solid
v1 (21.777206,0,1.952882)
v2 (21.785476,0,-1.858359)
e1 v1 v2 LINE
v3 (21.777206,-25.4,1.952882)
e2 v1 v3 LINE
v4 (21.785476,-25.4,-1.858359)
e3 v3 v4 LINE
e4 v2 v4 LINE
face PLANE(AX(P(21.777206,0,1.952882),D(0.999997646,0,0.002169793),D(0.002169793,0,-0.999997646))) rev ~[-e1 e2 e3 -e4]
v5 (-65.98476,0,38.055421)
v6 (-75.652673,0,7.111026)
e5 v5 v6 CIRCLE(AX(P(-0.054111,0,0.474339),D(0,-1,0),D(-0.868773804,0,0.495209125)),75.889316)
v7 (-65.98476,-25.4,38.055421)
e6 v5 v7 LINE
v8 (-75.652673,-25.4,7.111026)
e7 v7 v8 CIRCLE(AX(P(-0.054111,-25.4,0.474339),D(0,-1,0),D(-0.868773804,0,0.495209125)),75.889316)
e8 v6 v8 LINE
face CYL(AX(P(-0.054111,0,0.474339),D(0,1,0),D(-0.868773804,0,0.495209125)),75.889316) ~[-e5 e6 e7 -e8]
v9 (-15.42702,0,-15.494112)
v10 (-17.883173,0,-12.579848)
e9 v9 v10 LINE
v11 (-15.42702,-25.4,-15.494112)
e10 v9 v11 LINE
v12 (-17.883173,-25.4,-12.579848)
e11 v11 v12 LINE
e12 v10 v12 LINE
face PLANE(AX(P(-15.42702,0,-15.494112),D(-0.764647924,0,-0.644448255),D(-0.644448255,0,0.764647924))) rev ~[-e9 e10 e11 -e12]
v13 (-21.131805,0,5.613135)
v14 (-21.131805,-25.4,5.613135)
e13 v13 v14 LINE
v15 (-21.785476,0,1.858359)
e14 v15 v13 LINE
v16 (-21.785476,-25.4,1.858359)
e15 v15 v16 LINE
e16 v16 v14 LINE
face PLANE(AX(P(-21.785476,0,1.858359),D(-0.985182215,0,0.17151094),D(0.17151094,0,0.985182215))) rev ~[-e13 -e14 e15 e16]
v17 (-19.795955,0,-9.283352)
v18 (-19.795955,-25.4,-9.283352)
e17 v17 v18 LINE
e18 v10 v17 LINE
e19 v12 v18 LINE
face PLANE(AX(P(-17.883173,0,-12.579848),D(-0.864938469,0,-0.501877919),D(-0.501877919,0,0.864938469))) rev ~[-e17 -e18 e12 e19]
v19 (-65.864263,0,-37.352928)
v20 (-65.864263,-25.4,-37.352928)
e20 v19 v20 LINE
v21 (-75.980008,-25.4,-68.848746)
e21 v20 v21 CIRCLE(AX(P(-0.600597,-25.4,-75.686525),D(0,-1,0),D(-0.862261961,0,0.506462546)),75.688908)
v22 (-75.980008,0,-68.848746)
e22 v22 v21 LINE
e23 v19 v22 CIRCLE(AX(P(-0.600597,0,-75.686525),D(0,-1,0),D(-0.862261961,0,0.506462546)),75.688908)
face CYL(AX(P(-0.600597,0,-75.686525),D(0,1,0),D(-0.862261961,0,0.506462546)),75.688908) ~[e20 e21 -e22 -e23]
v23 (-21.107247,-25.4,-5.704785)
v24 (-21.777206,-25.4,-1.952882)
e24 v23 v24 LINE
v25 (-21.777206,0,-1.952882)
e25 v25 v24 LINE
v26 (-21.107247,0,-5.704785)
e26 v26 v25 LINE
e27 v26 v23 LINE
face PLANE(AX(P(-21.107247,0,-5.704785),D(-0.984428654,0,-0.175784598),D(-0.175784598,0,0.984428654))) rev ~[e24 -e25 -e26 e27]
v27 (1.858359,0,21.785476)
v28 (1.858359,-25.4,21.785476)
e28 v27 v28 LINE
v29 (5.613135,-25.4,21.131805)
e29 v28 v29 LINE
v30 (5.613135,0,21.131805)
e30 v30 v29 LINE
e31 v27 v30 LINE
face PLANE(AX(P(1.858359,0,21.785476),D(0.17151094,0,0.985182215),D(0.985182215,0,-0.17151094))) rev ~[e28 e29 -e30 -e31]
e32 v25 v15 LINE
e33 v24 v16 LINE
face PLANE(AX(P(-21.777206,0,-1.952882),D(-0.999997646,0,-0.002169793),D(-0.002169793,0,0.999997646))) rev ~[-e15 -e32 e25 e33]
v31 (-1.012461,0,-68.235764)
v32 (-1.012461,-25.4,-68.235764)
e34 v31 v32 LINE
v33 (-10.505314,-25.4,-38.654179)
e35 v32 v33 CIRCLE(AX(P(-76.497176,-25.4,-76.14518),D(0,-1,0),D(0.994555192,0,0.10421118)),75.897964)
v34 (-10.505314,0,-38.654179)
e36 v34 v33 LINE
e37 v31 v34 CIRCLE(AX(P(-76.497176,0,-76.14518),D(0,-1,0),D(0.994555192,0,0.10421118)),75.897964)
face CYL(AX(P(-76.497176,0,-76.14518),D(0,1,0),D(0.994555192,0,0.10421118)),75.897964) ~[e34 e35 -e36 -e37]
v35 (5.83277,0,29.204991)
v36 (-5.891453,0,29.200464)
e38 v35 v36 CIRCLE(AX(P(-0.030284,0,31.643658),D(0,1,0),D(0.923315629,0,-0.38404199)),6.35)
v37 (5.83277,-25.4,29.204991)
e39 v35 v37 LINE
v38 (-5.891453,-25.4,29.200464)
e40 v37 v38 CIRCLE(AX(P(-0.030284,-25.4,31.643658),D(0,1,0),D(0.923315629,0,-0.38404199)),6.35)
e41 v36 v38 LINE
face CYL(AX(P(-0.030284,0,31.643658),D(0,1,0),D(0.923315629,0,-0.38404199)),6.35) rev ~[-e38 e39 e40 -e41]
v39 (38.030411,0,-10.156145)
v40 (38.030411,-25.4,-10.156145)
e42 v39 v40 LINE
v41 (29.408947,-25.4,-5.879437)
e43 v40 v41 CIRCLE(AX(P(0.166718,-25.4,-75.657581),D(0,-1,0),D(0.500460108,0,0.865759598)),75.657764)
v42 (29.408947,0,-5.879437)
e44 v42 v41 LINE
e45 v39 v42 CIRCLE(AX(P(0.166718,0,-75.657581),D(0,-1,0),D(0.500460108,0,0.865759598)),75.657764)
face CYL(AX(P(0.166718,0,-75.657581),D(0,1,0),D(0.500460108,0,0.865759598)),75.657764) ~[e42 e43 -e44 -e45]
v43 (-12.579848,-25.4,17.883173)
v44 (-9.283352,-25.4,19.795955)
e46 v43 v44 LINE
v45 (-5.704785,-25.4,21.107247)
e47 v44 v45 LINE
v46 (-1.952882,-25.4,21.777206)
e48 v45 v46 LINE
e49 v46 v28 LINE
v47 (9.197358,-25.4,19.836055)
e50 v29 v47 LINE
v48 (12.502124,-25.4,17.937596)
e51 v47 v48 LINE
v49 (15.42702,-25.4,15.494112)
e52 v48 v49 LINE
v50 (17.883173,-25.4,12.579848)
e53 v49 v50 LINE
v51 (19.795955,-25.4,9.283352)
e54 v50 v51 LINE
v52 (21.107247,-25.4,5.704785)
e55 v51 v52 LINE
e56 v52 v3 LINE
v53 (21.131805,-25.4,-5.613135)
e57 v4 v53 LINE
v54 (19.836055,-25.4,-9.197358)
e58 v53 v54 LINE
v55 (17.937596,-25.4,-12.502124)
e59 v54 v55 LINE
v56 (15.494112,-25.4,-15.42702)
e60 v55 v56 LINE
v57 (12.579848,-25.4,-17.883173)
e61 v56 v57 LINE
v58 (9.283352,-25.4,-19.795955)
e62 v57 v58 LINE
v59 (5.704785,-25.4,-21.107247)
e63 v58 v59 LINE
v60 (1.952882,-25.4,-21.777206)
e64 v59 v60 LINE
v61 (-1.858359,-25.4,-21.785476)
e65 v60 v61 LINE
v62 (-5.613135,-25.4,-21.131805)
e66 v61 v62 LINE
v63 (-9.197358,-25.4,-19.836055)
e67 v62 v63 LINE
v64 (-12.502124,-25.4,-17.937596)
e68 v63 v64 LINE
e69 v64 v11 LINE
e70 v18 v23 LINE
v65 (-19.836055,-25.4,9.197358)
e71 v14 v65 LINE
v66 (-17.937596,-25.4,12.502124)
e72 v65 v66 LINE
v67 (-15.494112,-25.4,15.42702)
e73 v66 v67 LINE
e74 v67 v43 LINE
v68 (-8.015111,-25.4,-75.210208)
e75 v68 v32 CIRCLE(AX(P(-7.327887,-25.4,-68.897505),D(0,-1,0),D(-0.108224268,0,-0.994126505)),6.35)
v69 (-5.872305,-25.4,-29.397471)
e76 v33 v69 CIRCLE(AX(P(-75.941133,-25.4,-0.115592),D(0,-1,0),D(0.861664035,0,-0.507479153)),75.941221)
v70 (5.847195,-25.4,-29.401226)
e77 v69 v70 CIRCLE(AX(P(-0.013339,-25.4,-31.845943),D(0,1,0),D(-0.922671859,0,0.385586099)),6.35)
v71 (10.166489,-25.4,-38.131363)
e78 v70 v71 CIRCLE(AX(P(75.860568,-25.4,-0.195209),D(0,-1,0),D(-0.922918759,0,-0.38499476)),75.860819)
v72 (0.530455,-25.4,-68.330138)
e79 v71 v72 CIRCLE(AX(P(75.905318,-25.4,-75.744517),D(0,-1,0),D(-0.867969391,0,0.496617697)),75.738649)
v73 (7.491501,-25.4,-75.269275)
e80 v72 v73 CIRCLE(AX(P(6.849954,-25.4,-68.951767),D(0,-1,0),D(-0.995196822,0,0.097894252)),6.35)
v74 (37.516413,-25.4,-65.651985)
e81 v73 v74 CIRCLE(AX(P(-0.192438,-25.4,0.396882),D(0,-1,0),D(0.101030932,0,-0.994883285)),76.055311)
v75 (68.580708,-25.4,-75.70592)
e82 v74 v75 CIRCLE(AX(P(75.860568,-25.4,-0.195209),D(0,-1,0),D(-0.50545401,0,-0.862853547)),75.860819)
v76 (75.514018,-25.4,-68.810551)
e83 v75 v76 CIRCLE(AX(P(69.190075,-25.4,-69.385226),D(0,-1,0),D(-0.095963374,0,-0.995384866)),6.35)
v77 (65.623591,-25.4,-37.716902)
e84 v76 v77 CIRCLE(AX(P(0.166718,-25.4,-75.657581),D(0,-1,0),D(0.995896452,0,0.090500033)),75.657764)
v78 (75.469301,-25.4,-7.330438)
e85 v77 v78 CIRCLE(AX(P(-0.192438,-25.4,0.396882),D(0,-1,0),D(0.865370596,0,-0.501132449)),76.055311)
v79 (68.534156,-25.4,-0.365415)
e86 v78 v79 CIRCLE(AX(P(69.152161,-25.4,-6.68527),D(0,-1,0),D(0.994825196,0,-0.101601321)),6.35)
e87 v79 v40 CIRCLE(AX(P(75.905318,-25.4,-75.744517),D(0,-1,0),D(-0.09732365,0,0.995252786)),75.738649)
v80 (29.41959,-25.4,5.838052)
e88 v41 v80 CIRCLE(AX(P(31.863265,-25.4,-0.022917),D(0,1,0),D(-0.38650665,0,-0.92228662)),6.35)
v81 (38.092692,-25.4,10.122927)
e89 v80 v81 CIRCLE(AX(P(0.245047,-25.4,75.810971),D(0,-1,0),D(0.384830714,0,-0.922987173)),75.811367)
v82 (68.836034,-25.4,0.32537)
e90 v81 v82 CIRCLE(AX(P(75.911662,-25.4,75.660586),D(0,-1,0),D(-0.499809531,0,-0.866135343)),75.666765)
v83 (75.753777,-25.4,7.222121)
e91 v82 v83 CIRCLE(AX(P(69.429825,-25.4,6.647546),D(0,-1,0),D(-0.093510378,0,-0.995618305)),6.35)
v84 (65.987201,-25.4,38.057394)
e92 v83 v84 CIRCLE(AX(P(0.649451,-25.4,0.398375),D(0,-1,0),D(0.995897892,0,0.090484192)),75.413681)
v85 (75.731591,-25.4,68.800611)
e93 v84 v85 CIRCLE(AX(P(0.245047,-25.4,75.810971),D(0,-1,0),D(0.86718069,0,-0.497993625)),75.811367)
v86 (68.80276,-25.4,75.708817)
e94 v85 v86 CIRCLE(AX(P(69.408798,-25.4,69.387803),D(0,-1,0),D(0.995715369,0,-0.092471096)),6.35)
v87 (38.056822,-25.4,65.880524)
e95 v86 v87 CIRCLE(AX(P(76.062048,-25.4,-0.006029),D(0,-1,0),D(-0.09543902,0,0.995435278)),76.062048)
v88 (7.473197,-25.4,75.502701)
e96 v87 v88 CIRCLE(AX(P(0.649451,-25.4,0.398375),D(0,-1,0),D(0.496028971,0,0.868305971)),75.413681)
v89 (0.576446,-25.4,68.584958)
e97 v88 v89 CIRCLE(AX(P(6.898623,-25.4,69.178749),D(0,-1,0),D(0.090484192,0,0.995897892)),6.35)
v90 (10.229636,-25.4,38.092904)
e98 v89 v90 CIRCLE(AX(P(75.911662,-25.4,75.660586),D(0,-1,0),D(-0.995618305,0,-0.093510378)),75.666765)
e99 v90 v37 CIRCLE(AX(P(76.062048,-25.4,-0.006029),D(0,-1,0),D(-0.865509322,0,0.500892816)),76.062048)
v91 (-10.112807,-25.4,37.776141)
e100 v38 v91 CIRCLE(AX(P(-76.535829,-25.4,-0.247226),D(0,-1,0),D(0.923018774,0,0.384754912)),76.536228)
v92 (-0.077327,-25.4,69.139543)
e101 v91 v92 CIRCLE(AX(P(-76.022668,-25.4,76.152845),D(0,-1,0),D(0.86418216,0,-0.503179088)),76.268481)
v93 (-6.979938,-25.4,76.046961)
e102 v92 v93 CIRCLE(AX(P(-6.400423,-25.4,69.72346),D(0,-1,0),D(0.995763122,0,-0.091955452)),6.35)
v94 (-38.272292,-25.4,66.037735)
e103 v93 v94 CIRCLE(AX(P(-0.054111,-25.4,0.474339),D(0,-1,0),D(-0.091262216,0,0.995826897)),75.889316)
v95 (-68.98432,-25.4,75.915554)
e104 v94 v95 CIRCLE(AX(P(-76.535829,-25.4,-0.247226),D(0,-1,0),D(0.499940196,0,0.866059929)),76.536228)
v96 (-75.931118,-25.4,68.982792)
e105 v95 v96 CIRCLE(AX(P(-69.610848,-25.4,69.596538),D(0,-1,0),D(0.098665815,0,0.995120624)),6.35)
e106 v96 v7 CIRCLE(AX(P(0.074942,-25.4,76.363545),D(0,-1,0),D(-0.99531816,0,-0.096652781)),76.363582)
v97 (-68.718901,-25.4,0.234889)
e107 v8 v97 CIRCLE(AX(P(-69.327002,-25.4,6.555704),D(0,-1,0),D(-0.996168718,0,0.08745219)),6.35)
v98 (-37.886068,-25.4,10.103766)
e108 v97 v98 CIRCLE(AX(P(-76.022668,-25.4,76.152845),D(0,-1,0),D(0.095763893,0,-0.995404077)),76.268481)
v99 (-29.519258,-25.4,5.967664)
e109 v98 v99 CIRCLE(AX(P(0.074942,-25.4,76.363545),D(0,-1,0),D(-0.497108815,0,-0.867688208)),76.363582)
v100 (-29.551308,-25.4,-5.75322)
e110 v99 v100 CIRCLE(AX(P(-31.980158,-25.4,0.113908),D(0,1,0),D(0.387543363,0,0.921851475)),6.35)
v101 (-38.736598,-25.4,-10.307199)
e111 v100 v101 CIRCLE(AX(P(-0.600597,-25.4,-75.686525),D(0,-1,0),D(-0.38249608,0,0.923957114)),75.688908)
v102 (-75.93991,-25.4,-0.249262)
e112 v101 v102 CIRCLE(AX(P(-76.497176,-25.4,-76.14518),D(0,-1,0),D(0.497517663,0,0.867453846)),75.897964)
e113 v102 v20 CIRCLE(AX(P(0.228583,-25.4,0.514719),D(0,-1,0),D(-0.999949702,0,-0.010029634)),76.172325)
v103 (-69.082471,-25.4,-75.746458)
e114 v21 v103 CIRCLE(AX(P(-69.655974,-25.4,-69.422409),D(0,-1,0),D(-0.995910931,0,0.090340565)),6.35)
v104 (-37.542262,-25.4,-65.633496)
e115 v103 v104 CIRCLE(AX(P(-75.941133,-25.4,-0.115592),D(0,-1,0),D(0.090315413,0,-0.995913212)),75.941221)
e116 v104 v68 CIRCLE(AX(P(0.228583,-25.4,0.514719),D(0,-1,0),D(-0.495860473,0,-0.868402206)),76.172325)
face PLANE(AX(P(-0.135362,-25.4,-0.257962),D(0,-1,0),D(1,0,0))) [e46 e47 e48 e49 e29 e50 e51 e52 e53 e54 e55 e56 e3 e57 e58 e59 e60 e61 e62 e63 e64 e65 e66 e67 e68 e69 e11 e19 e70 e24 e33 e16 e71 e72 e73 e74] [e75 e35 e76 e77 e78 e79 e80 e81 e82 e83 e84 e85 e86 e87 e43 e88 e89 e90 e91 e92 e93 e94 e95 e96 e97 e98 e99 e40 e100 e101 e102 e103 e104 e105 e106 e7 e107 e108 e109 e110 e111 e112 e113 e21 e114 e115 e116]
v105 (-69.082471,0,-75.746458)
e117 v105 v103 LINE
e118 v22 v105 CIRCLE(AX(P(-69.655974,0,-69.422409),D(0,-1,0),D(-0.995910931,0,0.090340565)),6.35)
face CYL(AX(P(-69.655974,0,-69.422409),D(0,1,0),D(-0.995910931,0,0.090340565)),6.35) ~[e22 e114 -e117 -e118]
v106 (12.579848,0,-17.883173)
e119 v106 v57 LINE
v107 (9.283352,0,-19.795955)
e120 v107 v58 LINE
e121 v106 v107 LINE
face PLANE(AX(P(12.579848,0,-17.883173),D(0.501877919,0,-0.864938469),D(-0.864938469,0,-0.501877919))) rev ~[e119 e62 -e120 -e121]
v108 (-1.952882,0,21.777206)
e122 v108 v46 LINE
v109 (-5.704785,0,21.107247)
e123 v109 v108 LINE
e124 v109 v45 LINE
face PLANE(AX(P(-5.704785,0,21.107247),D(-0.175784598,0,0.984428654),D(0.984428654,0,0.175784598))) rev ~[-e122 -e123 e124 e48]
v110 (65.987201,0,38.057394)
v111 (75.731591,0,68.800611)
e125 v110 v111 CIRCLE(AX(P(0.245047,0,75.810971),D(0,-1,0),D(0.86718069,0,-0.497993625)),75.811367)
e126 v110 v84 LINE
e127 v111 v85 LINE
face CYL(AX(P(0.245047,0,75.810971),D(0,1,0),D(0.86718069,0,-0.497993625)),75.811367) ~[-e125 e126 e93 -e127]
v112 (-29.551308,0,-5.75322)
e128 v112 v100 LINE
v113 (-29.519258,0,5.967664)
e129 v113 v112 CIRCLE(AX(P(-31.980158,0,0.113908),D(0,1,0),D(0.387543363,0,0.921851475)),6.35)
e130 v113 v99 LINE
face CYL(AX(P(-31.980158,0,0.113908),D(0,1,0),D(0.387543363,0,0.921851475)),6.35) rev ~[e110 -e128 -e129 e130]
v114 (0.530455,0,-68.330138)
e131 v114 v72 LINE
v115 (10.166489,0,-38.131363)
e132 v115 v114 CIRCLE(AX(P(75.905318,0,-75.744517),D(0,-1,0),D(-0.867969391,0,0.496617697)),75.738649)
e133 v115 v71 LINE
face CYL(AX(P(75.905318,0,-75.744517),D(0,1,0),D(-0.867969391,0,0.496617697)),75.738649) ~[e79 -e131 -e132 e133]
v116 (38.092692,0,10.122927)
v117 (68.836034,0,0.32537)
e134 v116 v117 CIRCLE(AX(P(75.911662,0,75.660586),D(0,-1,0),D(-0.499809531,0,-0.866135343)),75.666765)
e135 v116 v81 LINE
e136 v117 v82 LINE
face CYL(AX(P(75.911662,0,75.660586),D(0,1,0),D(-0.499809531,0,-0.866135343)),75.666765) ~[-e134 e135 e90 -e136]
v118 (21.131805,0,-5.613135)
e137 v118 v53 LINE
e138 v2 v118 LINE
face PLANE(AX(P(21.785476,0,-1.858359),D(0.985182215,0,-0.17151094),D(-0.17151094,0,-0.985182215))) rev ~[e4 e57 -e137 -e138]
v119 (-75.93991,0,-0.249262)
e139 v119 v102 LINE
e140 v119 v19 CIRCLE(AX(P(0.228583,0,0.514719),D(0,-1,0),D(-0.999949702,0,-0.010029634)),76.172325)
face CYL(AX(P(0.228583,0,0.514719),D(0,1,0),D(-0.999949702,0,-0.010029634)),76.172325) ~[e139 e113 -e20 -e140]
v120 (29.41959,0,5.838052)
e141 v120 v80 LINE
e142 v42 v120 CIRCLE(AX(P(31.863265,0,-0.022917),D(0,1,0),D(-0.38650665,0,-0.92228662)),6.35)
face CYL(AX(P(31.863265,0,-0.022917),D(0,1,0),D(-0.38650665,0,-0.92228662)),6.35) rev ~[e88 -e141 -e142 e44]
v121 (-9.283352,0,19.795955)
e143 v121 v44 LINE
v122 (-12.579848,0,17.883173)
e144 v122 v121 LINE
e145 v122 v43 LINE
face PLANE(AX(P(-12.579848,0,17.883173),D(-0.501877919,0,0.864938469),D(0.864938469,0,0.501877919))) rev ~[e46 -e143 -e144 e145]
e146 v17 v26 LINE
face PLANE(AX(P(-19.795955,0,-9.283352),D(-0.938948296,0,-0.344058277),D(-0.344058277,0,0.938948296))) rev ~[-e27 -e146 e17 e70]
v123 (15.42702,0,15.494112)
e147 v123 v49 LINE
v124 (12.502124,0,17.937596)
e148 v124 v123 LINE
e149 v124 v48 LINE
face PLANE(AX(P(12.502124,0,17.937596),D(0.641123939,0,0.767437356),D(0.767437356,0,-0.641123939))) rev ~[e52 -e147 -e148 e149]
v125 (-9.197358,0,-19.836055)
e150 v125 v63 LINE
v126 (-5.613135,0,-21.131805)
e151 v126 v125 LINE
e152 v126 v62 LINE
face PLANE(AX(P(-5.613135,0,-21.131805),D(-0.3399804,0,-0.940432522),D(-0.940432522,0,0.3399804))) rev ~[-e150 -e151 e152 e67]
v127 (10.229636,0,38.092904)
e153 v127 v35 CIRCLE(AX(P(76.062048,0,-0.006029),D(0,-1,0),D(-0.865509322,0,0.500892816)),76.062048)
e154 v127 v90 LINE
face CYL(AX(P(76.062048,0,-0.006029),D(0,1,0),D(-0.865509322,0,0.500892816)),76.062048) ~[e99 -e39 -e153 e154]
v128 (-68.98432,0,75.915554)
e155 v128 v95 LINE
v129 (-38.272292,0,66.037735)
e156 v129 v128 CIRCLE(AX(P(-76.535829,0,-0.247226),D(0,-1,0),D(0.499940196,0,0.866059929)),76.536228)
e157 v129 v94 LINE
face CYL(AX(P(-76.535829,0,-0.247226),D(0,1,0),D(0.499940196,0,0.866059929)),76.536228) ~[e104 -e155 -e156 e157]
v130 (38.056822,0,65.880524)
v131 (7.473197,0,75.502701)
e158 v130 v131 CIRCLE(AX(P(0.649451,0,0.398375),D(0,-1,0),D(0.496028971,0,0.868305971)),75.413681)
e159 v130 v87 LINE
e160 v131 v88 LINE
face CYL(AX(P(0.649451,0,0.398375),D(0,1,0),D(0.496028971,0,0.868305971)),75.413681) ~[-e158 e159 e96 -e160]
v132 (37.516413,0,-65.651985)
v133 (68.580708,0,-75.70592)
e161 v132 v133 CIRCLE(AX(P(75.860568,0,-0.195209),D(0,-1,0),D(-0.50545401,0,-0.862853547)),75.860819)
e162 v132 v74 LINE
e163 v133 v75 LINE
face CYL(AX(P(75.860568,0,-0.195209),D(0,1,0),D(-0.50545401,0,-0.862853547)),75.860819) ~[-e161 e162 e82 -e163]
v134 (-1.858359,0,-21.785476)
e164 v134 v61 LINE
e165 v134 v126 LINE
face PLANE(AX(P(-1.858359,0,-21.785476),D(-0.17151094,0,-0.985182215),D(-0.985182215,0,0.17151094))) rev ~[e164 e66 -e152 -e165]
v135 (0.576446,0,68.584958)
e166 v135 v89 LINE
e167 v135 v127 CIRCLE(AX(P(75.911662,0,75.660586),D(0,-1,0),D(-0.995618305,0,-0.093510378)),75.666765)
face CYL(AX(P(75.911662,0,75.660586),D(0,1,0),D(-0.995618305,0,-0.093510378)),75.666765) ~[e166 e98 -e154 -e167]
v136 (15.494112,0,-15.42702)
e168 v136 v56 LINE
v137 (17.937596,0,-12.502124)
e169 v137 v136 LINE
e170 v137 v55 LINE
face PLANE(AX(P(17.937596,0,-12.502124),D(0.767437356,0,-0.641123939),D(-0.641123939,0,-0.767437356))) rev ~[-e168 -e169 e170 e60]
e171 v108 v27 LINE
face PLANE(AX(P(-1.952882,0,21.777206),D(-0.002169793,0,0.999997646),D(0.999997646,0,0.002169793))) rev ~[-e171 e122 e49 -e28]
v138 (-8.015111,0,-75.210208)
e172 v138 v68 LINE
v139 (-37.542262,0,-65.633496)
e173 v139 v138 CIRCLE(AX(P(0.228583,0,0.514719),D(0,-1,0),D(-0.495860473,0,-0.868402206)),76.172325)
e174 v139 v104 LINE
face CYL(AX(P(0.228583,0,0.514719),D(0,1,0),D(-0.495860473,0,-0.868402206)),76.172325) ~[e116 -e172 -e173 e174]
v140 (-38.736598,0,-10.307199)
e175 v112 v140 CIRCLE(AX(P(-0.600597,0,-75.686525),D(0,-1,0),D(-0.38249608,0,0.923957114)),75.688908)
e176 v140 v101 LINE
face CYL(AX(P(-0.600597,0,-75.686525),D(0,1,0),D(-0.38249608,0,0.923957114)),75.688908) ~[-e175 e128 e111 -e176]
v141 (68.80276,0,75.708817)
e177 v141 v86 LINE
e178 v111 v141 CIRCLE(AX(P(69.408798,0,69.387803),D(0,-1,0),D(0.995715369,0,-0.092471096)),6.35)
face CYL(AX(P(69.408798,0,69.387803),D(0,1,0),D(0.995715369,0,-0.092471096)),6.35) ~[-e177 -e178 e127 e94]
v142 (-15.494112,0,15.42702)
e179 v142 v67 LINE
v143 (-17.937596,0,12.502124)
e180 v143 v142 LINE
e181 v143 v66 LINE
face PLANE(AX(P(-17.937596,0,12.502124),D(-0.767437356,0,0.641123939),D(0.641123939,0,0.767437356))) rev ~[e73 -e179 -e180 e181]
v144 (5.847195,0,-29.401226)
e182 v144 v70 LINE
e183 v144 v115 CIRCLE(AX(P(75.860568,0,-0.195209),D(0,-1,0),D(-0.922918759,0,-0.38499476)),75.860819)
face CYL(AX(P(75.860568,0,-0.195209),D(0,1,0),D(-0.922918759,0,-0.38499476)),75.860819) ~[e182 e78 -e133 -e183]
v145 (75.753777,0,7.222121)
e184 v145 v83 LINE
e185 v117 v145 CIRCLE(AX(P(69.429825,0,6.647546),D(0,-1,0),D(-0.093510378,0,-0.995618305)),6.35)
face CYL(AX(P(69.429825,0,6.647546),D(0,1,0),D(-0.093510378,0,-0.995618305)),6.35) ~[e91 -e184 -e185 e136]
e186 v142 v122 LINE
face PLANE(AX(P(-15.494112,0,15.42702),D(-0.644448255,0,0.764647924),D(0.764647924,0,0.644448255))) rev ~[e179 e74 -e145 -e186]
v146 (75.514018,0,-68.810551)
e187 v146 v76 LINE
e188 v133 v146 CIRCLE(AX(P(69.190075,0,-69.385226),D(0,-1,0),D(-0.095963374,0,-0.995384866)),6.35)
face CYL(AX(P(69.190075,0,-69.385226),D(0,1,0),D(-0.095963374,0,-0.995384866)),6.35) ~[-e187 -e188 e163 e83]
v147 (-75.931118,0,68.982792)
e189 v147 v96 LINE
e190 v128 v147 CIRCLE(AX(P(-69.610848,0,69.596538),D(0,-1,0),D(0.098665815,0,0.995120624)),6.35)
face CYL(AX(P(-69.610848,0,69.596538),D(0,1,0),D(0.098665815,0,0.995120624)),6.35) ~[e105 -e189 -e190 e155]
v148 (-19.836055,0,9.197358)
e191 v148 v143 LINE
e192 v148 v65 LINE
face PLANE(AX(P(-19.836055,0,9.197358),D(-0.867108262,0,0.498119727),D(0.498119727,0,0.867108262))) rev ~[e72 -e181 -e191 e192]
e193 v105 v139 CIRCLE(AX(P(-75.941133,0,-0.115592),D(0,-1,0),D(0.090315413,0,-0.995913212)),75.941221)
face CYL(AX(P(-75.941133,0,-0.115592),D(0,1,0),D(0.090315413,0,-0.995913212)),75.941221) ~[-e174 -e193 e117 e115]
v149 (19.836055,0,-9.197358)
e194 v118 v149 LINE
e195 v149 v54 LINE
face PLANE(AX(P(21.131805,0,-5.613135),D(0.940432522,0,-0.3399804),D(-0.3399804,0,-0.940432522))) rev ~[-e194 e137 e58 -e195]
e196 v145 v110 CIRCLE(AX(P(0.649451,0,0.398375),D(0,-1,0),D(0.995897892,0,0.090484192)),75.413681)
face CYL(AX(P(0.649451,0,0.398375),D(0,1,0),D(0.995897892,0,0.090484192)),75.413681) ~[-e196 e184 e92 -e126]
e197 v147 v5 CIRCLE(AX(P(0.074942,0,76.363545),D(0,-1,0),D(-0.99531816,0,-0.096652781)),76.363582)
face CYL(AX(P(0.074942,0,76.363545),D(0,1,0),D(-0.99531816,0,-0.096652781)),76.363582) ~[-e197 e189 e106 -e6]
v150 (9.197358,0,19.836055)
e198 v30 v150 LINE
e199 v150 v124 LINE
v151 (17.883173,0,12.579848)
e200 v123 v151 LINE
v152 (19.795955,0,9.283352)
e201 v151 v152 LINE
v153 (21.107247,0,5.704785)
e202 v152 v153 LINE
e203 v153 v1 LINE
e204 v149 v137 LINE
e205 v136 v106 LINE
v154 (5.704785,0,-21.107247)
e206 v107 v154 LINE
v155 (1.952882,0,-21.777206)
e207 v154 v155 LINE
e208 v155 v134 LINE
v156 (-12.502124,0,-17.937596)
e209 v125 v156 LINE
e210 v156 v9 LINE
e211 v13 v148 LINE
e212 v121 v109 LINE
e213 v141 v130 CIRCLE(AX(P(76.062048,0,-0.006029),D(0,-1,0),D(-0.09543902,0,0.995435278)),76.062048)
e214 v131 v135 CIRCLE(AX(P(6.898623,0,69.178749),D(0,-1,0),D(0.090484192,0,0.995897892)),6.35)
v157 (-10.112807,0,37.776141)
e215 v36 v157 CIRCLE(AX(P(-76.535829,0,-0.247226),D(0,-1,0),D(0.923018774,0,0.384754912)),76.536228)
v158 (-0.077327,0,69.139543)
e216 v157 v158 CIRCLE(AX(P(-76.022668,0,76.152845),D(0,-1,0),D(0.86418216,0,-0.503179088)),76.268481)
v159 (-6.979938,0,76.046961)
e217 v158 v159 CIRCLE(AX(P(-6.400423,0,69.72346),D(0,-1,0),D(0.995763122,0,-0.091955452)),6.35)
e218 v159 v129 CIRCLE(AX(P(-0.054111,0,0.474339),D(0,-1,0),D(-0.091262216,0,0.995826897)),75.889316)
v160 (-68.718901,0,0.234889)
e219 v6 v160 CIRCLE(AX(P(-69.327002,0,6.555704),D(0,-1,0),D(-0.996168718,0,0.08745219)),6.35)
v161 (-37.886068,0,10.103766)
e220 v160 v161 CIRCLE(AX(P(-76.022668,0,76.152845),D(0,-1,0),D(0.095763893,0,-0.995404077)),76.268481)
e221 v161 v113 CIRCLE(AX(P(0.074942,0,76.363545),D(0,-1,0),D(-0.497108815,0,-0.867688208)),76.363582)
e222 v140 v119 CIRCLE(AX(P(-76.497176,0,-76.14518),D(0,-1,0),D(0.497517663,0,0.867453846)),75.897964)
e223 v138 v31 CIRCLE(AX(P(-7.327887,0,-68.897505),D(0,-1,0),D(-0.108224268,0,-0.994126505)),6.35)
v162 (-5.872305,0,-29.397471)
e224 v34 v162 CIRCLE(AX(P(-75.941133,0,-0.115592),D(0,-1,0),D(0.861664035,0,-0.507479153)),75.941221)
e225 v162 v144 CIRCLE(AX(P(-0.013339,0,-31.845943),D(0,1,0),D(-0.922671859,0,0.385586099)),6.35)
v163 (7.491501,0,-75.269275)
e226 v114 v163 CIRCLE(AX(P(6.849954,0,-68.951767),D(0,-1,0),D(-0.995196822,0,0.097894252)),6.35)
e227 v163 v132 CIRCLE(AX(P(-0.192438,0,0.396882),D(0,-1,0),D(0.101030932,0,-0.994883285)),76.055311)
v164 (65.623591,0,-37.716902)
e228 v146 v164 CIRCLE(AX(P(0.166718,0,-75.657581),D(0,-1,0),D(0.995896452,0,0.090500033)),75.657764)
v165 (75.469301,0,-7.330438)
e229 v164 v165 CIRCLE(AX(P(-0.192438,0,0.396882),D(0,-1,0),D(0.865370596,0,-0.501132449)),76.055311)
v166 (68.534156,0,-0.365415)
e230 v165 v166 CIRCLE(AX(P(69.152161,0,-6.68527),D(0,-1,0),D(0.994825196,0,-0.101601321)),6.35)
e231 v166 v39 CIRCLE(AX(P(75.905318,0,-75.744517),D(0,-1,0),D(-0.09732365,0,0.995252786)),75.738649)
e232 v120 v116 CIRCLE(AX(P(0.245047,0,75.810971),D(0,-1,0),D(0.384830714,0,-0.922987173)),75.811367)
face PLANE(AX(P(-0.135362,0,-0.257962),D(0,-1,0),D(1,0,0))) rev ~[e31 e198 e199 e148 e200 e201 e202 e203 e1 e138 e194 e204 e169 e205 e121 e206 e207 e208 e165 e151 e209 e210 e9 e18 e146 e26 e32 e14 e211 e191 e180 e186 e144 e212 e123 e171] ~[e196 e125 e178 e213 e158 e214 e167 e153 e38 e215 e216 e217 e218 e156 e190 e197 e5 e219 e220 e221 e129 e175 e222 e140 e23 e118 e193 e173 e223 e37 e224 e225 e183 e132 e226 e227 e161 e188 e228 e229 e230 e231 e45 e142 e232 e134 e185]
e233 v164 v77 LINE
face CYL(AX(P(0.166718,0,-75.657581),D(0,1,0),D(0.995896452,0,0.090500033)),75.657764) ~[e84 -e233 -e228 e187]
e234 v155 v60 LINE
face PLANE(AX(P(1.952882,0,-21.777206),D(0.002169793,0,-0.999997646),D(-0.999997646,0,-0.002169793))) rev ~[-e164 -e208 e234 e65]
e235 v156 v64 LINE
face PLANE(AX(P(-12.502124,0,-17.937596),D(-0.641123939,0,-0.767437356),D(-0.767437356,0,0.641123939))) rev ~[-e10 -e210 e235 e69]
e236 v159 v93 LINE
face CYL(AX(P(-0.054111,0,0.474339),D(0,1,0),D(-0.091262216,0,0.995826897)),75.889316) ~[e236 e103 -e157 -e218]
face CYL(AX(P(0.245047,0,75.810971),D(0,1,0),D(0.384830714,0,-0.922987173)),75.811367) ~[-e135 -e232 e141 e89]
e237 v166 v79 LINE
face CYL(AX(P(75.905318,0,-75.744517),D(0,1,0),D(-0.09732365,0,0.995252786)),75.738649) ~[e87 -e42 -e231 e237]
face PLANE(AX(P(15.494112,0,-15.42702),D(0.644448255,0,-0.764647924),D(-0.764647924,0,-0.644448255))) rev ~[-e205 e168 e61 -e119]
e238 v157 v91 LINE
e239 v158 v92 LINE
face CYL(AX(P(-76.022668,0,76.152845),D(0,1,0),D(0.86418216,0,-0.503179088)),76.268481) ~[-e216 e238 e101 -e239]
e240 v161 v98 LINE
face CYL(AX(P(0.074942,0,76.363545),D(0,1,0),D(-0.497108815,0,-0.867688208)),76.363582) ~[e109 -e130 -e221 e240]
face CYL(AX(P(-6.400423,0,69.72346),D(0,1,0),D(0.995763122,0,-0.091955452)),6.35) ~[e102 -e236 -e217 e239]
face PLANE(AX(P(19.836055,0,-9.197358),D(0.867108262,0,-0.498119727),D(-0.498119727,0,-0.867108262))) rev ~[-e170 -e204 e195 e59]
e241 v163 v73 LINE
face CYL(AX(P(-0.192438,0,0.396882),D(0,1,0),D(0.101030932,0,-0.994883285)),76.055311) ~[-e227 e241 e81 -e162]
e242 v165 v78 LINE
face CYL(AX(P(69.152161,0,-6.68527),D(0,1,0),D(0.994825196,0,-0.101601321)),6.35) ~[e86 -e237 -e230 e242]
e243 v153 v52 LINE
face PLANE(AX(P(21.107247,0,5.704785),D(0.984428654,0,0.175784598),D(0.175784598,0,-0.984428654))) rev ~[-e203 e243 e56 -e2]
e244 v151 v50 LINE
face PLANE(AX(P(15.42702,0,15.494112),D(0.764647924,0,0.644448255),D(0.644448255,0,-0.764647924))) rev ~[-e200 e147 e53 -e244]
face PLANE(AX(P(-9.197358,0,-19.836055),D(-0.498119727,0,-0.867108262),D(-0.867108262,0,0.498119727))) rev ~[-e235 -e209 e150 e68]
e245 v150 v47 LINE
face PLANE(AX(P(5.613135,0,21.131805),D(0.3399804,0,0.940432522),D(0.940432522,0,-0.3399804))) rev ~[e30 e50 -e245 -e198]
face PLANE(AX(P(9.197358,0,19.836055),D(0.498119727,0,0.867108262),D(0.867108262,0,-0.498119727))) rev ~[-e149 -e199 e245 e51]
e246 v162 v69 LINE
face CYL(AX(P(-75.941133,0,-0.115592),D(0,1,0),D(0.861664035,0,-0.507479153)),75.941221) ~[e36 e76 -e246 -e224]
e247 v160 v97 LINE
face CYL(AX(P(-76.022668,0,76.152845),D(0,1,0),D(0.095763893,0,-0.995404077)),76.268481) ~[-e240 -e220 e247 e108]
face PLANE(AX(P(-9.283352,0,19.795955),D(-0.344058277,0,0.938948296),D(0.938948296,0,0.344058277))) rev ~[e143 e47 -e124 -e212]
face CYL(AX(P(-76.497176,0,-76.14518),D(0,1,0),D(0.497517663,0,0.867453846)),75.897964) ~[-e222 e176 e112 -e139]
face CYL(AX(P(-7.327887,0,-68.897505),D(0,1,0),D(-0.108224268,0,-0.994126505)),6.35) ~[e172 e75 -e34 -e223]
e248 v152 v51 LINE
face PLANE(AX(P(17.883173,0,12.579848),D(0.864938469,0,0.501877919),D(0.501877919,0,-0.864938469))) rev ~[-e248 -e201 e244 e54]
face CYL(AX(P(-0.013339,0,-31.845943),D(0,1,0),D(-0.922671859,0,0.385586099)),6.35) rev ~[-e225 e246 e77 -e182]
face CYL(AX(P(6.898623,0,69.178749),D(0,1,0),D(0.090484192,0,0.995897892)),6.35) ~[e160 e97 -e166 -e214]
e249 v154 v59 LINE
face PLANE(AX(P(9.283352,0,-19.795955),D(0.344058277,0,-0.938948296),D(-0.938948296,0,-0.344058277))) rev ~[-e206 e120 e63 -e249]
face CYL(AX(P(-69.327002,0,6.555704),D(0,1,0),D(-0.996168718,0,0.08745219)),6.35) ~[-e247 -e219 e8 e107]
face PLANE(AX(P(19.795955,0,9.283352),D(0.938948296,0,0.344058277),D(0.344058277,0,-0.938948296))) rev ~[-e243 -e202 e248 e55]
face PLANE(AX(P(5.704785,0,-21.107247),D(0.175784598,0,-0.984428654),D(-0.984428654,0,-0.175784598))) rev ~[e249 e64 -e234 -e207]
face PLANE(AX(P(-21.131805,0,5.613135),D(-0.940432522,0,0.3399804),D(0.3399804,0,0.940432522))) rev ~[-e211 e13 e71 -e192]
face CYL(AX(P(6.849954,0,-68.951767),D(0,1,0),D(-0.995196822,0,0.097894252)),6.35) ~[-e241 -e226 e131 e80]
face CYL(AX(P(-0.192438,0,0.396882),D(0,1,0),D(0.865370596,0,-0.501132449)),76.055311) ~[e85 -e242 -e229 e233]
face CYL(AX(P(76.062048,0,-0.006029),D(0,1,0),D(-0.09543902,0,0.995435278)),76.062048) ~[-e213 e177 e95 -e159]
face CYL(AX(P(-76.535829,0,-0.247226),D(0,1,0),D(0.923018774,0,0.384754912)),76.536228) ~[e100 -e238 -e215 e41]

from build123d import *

# Parameters (mm, degrees)
F1_DEPTH = 25.4


with BuildPart() as f1:
    # F0 (on Front) → F1 (new body)
    with BuildSketch(Plane.XZ):
        with BuildLine():
            ThreePointArc((-5.8723054883, -29.3974713107), (-0.0113045982, -25.4959433684), (5.8471949357, -29.4012263195))
            ThreePointArc((5.8471949357, -29.4012263195), (7.8665830511, -33.8356885101), (10.1664885318, -38.131362853))
            ThreePointArc((10.1664885318, -38.131362853), (22.2433688947, -22.2960530681), (38.0304113332, -10.1561450647))
            ThreePointArc((38.0304113332, -10.1561450647), (33.7877497726, -7.8805671775), (29.4089474828, -5.8794369107))
            ThreePointArc((29.4089474828, -5.8794369107), (25.5132673299, -0.0171496036), (29.4195896796, 5.8380516761))
            ThreePointArc((29.4195896796, 5.8380516761), (33.8245563846, 7.8420080033), (38.0926920423, 10.1229268184))
            ThreePointArc((38.0926920423, 10.1229268184), (22.3048159694, 22.2586636554), (10.2296361263, 38.0929041244))
            ThreePointArc((10.2296361263, 38.0929041244), (7.8862120567, 33.7206748888), (5.832770092, 29.2049910031))
            ThreePointArc((5.832770092, 29.2049910031), (-0.0278322356, 25.2936581115), (-5.8914533675, 29.2004639491))
            ThreePointArc((-5.8914533675, 29.2004639491), (-7.8681260767, 33.5542655176), (-10.1128070971, 37.7761407186))
            ThreePointArc((-10.1128070971, 37.7761407186), (-22.1909246105, 22.1248469042), (-37.8860679576, 10.1037655868))
            ThreePointArc((-37.8860679576, 10.1037655868), (-33.7659122536, 7.9077693057), (-29.519257568, 5.9676644959))
            ThreePointArc((-29.519257568, 5.9676644959), (-25.6301816612, 0.0965438971), (-29.5513078142, -5.7532200459))
            ThreePointArc((-29.5513078142, -5.7532200459), (-34.2211473212, -7.8745098641), (-38.736597903, -10.3071992315))
            ThreePointArc((-38.736597903, -10.3071992315), (-22.7195783494, -22.5870715801), (-10.5053141935, -38.6541787064))
            ThreePointArc((-10.5053141935, -38.6541787064), (-8.0309058523, -34.1048564095), (-5.8723054883, -29.3974713107))
        make_face()
        Polygon((15.4941124372, -15.4270198163), (12.5798481763, -17.8831731103), (9.2833515942, -19.7959552386), (5.7047850715, -21.1072472842), (1.9528815413, -21.7772063019), (-1.8583593065, -21.7854759259), (-5.613134847, -21.1318048879), (-9.1973581256, -19.8360546515), (-12.5021243317, -17.9375959321), (-15.4270198163, -15.4941124372), (-17.8831731103, -12.5798481763), (-19.7959552386, -9.2833515942), (-21.1072472842, -5.7047850715), (-21.7772063019, -1.9528815413), (-21.7854759259, 1.8583593065), (-21.1318048879, 5.613134847), (-19.8360546515, 9.1973581256), (-17.9375959321, 12.5021243317), (-15.4941124372, 15.4270198163), (-12.5798481763, 17.8831731103), (-9.2833515942, 19.7959552386), (-5.7047850715, 21.1072472842), (-1.9528815413, 21.7772063019), (1.8583593065, 21.7854759259), (5.613134847, 21.1318048879), (9.1973581256, 19.8360546515), (12.5021243317, 17.9375959321), (15.4270198163, 15.4941124372), (17.8831731103, 12.5798481763), (19.7959552386, 9.2833515942), (21.1072472842, 5.7047850715), (21.7772063019, 1.9528815413), (21.7854759259, -1.8583593065), (21.1318048879, -5.613134847), (19.8360546515, -9.1973581256), (17.9375959321, -12.5021243317), align=None, mode=Mode.SUBTRACT)
        with BuildLine():
            ThreePointArc((38.0304113332, -10.1561450647), (22.2433688947, -22.2960530681), (10.1664885318, -38.131362853))
            ThreePointArc((10.1664885318, -38.131362853), (22.0522532258, -53.6697738876), (37.5164127114, -65.6519853381))
            ThreePointArc((37.5164127114, -65.6519853381), (53.4213887804, -53.5472360443), (65.6235914885, -37.7169022421))
            ThreePointArc((65.6235914885, -37.7169022421), (53.6333778688, -22.1280221412), (38.0304113332, -10.1561450647))
        make_face()
        with BuildLine():
            ThreePointArc((37.5164127114, -65.6519853381), (22.0522532258, -53.6697738876), (10.1664885318, -38.131362853))
            ThreePointArc((10.1664885318, -38.131362853), (3.7508996959, -52.7209861968), (0.5304546679, -68.3301381035))
            ThreePointArc((0.5304546679, -68.3301381035), (2.3669091486, -73.4489662261), (7.4915009075, -75.2692754617))
            ThreePointArc((7.4915009075, -75.2692754617), (23.0077646864, -72.0335045543), (37.5164127114, -65.6519853381))
        make_face()
        with BuildLine():
            ThreePointArc((65.6235914885, -37.7169022421), (53.4213887804, -53.5472360443), (37.5164127114, -65.6519853381))
            ThreePointArc((37.5164127114, -65.6519853381), (52.5012422767, -72.3700363612), (68.5807077231, -75.7059196936))
            ThreePointArc((68.5807077231, -75.7059196936), (73.6678671005, -73.8876561642), (75.5140176195, -68.8105505857))
            ThreePointArc((75.5140176195, -68.8105505857), (72.2649671763, -52.7242023626), (65.6235914885, -37.7169022421))
        make_face()
        with BuildLine():
            ThreePointArc((68.5341561345, -0.3654146815), (52.7586923315, -3.6294921253), (38.0304113332, -10.1561450647))
            ThreePointArc((38.0304113332, -10.1561450647), (53.6333778688, -22.1280221412), (65.6235914885, -37.7169022421))
            ThreePointArc((65.6235914885, -37.7169022421), (72.1596460359, -23.0463732384), (75.4693013087, -7.3304382592))
            ThreePointArc((75.4693013087, -7.3304382592), (73.6519305037, -2.2048036873), (68.5341561345, -0.3654146815))
        make_face()
        with BuildLine():
            ThreePointArc((-1.0124612587, -68.2357638288), (-4.2291126973, -52.9540601379), (-10.5053141935, -38.6541787064))
            ThreePointArc((-10.5053141935, -38.6541787064), (-22.2999024948, -53.8714051532), (-37.5422616312, -65.6334960339))
            ThreePointArc((-37.5422616312, -65.6334960339), (-23.2716891442, -71.9418906098), (-8.0151108309, -75.2102081286))
            ThreePointArc((-8.0151108309, -75.2102081286), (-2.846828708, -73.396684639), (-1.0124612587, -68.2357638288))
        make_face()
        with BuildLine():
            ThreePointArc((-37.5422616312, -65.6334960339), (-22.2999024948, -53.8714051532), (-10.5053141935, -38.6541787064))
            ThreePointArc((-10.5053141935, -38.6541787064), (-22.7195783494, -22.5870715801), (-38.736597903, -10.3071992315))
            ThreePointArc((-38.736597903, -10.3071992315), (-54.0397274181, -22.0854974937), (-65.8642633829, -37.35292793))
            ThreePointArc((-65.8642633829, -37.35292793), (-53.5939421159, -53.3866616113), (-37.5422616312, -65.6334960339))
        make_face()
        with BuildLine():
            ThreePointArc((-69.0824706786, -75.7464577386), (-52.7543029668, -72.4304590644), (-37.5422616312, -65.6334960339))
            ThreePointArc((-37.5422616312, -65.6334960339), (-53.5939421159, -53.3866616113), (-65.8642633829, -37.35292793))
            ThreePointArc((-65.8642633829, -37.35292793), (-72.6638709017, -52.5414311261), (-75.9800079654, -68.8487462552))
            ThreePointArc((-75.9800079654, -68.8487462552), (-74.1461583123, -73.9124802036), (-69.0824706786, -75.7464577386))
        make_face()
        with BuildLine():
            ThreePointArc((-65.8642633829, -37.35292793), (-54.0397274181, -22.0854974937), (-38.736597903, -10.3071992315))
            ThreePointArc((-38.736597903, -10.3071992315), (-56.6892276099, -2.8775463892), (-75.9399100658, -0.249261829))
            ThreePointArc((-75.9399100658, -0.249261829), (-73.2815706098, -19.4472531015), (-65.8642633829, -37.35292793))
        make_face()
        with BuildLine():
            ThreePointArc((10.2296361263, 38.0929041244), (22.3048159694, 22.2586636554), (38.0926920423, 10.1229268184))
            ThreePointArc((38.0926920423, 10.1229268184), (53.8901327799, 22.2426205771), (65.98720102, 38.0573937547))
            ThreePointArc((65.98720102, 38.0573937547), (53.8722995346, 53.8263794302), (38.0568216949, 65.8805242749))
            ThreePointArc((38.0568216949, 65.8805242749), (22.3163343559, 53.8162099791), (10.2296361263, 38.0929041244))
        make_face()
        with BuildLine():
            ThreePointArc((65.98720102, 38.0573937547), (53.8901327799, 22.2426205771), (38.0926920423, 10.1229268184))
            ThreePointArc((38.0926920423, 10.1229268184), (52.9360390158, 3.5663420182), (68.8360344261, 0.3253700086))
            ThreePointArc((68.8360344261, 0.3253700086), (73.9131252899, 2.1506004529), (75.7537769417, 7.2221208671))
            ThreePointArc((75.7537769417, 7.2221208671), (72.5431064158, 23.169531937), (65.98720102, 38.0573937547))
        make_face()
        with BuildLine():
            ThreePointArc((38.0568216949, 65.8805242749), (53.8722995346, 53.8263794302), (65.98720102, 38.0573937547))
            ThreePointArc((65.98720102, 38.0573937547), (72.5131078913, 52.9048408511), (75.7315907831, 68.8006111581))
            ThreePointArc((75.7315907831, 68.8006111581), (73.892228478, 73.884618477), (68.8027604139, 75.7088166387))
            ThreePointArc((68.8027604139, 75.7088166387), (52.9024303983, 72.4444177186), (38.0568216949, 65.8805242749))
        make_face()
        with BuildLine():
            ThreePointArc((0.5764462826, 68.5849581522), (3.7735517842, 52.8230665558), (10.2296361263, 38.0929041244))
            ThreePointArc((10.2296361263, 38.0929041244), (22.3163343559, 53.8162099791), (38.0568216949, 65.8805242749))
            ThreePointArc((38.0568216949, 65.8805242749), (23.2822699561, 72.3357001965), (7.473197141, 75.5027006678))
            ThreePointArc((7.473197141, 75.5027006678), (2.4016767268, 73.662049016), (0.5764462826, 68.5849581522))
        make_face()
        with BuildLine():
            ThreePointArc((-68.7189010029, 0.2348885395), (-52.7728201927, 3.5145237384), (-37.8860679576, 10.1037655868))
            ThreePointArc((-37.8860679576, 10.1037655868), (-53.780428185, 22.2248734645), (-65.9847602554, 38.0554205788))
            ThreePointArc((-65.9847602554, 38.0554205788), (-72.4904161681, 23.1055098819), (-75.6526730835, 7.1110258359))
            ThreePointArc((-75.6526730835, 7.1110258359), (-73.79835158, 2.0468763691), (-68.7189010029, 0.2348885395))
        make_face()
        with BuildLine():
            ThreePointArc((-65.9847602554, 38.0554205788), (-53.780428185, 22.2248734645), (-37.8860679576, 10.1037655868))
            ThreePointArc((-37.8860679576, 10.1037655868), (-22.1909246105, 22.1248469042), (-10.1128070971, 37.7761407186))
            ThreePointArc((-10.1128070971, 37.7761407186), (-22.3186885042, 53.7740285117), (-38.2722920555, 66.0377346602))
            ThreePointArc((-38.2722920555, 66.0377346602), (-53.9753237868, 53.8755657611), (-65.9847602554, 38.0554205788))
        make_face()
        with BuildLine():
            ThreePointArc((-75.9311179626, 68.9827924054), (-72.6216588957, 52.9840480262), (-65.9847602554, 38.0554205788))
            ThreePointArc((-65.9847602554, 38.0554205788), (-53.9753237868, 53.8755657611), (-38.2722920555, 66.0377346602))
            ThreePointArc((-38.2722920555, 66.0377346602), (-53.1019338593, 72.6132353792), (-68.9843197188, 75.9155535265))
            ThreePointArc((-68.9843197188, 75.9155535265), (-74.0964323111, 74.0912044249), (-75.9311179626, 68.9827924054))
        make_face()
        with BuildLine():
            ThreePointArc((-38.2722920555, 66.0377346602), (-22.3186885042, 53.7740285117), (-10.1128070971, 37.7761407186))
            ThreePointArc((-10.1128070971, 37.7761407186), (-3.3821811813, 52.9097624233), (-0.077326994, 69.1395427644))
            ThreePointArc((-0.077326994, 69.1395427644), (-1.9087320963, 74.2120247418), (-6.9799378863, 76.0469606796))
            ThreePointArc((-6.9799378863, 76.0469606796), (-23.1742648581, 72.7560566396), (-38.2722920555, 66.0377346602))
        make_face()
    extrude(amount=F1_DEPTH)


solid = f1.part
